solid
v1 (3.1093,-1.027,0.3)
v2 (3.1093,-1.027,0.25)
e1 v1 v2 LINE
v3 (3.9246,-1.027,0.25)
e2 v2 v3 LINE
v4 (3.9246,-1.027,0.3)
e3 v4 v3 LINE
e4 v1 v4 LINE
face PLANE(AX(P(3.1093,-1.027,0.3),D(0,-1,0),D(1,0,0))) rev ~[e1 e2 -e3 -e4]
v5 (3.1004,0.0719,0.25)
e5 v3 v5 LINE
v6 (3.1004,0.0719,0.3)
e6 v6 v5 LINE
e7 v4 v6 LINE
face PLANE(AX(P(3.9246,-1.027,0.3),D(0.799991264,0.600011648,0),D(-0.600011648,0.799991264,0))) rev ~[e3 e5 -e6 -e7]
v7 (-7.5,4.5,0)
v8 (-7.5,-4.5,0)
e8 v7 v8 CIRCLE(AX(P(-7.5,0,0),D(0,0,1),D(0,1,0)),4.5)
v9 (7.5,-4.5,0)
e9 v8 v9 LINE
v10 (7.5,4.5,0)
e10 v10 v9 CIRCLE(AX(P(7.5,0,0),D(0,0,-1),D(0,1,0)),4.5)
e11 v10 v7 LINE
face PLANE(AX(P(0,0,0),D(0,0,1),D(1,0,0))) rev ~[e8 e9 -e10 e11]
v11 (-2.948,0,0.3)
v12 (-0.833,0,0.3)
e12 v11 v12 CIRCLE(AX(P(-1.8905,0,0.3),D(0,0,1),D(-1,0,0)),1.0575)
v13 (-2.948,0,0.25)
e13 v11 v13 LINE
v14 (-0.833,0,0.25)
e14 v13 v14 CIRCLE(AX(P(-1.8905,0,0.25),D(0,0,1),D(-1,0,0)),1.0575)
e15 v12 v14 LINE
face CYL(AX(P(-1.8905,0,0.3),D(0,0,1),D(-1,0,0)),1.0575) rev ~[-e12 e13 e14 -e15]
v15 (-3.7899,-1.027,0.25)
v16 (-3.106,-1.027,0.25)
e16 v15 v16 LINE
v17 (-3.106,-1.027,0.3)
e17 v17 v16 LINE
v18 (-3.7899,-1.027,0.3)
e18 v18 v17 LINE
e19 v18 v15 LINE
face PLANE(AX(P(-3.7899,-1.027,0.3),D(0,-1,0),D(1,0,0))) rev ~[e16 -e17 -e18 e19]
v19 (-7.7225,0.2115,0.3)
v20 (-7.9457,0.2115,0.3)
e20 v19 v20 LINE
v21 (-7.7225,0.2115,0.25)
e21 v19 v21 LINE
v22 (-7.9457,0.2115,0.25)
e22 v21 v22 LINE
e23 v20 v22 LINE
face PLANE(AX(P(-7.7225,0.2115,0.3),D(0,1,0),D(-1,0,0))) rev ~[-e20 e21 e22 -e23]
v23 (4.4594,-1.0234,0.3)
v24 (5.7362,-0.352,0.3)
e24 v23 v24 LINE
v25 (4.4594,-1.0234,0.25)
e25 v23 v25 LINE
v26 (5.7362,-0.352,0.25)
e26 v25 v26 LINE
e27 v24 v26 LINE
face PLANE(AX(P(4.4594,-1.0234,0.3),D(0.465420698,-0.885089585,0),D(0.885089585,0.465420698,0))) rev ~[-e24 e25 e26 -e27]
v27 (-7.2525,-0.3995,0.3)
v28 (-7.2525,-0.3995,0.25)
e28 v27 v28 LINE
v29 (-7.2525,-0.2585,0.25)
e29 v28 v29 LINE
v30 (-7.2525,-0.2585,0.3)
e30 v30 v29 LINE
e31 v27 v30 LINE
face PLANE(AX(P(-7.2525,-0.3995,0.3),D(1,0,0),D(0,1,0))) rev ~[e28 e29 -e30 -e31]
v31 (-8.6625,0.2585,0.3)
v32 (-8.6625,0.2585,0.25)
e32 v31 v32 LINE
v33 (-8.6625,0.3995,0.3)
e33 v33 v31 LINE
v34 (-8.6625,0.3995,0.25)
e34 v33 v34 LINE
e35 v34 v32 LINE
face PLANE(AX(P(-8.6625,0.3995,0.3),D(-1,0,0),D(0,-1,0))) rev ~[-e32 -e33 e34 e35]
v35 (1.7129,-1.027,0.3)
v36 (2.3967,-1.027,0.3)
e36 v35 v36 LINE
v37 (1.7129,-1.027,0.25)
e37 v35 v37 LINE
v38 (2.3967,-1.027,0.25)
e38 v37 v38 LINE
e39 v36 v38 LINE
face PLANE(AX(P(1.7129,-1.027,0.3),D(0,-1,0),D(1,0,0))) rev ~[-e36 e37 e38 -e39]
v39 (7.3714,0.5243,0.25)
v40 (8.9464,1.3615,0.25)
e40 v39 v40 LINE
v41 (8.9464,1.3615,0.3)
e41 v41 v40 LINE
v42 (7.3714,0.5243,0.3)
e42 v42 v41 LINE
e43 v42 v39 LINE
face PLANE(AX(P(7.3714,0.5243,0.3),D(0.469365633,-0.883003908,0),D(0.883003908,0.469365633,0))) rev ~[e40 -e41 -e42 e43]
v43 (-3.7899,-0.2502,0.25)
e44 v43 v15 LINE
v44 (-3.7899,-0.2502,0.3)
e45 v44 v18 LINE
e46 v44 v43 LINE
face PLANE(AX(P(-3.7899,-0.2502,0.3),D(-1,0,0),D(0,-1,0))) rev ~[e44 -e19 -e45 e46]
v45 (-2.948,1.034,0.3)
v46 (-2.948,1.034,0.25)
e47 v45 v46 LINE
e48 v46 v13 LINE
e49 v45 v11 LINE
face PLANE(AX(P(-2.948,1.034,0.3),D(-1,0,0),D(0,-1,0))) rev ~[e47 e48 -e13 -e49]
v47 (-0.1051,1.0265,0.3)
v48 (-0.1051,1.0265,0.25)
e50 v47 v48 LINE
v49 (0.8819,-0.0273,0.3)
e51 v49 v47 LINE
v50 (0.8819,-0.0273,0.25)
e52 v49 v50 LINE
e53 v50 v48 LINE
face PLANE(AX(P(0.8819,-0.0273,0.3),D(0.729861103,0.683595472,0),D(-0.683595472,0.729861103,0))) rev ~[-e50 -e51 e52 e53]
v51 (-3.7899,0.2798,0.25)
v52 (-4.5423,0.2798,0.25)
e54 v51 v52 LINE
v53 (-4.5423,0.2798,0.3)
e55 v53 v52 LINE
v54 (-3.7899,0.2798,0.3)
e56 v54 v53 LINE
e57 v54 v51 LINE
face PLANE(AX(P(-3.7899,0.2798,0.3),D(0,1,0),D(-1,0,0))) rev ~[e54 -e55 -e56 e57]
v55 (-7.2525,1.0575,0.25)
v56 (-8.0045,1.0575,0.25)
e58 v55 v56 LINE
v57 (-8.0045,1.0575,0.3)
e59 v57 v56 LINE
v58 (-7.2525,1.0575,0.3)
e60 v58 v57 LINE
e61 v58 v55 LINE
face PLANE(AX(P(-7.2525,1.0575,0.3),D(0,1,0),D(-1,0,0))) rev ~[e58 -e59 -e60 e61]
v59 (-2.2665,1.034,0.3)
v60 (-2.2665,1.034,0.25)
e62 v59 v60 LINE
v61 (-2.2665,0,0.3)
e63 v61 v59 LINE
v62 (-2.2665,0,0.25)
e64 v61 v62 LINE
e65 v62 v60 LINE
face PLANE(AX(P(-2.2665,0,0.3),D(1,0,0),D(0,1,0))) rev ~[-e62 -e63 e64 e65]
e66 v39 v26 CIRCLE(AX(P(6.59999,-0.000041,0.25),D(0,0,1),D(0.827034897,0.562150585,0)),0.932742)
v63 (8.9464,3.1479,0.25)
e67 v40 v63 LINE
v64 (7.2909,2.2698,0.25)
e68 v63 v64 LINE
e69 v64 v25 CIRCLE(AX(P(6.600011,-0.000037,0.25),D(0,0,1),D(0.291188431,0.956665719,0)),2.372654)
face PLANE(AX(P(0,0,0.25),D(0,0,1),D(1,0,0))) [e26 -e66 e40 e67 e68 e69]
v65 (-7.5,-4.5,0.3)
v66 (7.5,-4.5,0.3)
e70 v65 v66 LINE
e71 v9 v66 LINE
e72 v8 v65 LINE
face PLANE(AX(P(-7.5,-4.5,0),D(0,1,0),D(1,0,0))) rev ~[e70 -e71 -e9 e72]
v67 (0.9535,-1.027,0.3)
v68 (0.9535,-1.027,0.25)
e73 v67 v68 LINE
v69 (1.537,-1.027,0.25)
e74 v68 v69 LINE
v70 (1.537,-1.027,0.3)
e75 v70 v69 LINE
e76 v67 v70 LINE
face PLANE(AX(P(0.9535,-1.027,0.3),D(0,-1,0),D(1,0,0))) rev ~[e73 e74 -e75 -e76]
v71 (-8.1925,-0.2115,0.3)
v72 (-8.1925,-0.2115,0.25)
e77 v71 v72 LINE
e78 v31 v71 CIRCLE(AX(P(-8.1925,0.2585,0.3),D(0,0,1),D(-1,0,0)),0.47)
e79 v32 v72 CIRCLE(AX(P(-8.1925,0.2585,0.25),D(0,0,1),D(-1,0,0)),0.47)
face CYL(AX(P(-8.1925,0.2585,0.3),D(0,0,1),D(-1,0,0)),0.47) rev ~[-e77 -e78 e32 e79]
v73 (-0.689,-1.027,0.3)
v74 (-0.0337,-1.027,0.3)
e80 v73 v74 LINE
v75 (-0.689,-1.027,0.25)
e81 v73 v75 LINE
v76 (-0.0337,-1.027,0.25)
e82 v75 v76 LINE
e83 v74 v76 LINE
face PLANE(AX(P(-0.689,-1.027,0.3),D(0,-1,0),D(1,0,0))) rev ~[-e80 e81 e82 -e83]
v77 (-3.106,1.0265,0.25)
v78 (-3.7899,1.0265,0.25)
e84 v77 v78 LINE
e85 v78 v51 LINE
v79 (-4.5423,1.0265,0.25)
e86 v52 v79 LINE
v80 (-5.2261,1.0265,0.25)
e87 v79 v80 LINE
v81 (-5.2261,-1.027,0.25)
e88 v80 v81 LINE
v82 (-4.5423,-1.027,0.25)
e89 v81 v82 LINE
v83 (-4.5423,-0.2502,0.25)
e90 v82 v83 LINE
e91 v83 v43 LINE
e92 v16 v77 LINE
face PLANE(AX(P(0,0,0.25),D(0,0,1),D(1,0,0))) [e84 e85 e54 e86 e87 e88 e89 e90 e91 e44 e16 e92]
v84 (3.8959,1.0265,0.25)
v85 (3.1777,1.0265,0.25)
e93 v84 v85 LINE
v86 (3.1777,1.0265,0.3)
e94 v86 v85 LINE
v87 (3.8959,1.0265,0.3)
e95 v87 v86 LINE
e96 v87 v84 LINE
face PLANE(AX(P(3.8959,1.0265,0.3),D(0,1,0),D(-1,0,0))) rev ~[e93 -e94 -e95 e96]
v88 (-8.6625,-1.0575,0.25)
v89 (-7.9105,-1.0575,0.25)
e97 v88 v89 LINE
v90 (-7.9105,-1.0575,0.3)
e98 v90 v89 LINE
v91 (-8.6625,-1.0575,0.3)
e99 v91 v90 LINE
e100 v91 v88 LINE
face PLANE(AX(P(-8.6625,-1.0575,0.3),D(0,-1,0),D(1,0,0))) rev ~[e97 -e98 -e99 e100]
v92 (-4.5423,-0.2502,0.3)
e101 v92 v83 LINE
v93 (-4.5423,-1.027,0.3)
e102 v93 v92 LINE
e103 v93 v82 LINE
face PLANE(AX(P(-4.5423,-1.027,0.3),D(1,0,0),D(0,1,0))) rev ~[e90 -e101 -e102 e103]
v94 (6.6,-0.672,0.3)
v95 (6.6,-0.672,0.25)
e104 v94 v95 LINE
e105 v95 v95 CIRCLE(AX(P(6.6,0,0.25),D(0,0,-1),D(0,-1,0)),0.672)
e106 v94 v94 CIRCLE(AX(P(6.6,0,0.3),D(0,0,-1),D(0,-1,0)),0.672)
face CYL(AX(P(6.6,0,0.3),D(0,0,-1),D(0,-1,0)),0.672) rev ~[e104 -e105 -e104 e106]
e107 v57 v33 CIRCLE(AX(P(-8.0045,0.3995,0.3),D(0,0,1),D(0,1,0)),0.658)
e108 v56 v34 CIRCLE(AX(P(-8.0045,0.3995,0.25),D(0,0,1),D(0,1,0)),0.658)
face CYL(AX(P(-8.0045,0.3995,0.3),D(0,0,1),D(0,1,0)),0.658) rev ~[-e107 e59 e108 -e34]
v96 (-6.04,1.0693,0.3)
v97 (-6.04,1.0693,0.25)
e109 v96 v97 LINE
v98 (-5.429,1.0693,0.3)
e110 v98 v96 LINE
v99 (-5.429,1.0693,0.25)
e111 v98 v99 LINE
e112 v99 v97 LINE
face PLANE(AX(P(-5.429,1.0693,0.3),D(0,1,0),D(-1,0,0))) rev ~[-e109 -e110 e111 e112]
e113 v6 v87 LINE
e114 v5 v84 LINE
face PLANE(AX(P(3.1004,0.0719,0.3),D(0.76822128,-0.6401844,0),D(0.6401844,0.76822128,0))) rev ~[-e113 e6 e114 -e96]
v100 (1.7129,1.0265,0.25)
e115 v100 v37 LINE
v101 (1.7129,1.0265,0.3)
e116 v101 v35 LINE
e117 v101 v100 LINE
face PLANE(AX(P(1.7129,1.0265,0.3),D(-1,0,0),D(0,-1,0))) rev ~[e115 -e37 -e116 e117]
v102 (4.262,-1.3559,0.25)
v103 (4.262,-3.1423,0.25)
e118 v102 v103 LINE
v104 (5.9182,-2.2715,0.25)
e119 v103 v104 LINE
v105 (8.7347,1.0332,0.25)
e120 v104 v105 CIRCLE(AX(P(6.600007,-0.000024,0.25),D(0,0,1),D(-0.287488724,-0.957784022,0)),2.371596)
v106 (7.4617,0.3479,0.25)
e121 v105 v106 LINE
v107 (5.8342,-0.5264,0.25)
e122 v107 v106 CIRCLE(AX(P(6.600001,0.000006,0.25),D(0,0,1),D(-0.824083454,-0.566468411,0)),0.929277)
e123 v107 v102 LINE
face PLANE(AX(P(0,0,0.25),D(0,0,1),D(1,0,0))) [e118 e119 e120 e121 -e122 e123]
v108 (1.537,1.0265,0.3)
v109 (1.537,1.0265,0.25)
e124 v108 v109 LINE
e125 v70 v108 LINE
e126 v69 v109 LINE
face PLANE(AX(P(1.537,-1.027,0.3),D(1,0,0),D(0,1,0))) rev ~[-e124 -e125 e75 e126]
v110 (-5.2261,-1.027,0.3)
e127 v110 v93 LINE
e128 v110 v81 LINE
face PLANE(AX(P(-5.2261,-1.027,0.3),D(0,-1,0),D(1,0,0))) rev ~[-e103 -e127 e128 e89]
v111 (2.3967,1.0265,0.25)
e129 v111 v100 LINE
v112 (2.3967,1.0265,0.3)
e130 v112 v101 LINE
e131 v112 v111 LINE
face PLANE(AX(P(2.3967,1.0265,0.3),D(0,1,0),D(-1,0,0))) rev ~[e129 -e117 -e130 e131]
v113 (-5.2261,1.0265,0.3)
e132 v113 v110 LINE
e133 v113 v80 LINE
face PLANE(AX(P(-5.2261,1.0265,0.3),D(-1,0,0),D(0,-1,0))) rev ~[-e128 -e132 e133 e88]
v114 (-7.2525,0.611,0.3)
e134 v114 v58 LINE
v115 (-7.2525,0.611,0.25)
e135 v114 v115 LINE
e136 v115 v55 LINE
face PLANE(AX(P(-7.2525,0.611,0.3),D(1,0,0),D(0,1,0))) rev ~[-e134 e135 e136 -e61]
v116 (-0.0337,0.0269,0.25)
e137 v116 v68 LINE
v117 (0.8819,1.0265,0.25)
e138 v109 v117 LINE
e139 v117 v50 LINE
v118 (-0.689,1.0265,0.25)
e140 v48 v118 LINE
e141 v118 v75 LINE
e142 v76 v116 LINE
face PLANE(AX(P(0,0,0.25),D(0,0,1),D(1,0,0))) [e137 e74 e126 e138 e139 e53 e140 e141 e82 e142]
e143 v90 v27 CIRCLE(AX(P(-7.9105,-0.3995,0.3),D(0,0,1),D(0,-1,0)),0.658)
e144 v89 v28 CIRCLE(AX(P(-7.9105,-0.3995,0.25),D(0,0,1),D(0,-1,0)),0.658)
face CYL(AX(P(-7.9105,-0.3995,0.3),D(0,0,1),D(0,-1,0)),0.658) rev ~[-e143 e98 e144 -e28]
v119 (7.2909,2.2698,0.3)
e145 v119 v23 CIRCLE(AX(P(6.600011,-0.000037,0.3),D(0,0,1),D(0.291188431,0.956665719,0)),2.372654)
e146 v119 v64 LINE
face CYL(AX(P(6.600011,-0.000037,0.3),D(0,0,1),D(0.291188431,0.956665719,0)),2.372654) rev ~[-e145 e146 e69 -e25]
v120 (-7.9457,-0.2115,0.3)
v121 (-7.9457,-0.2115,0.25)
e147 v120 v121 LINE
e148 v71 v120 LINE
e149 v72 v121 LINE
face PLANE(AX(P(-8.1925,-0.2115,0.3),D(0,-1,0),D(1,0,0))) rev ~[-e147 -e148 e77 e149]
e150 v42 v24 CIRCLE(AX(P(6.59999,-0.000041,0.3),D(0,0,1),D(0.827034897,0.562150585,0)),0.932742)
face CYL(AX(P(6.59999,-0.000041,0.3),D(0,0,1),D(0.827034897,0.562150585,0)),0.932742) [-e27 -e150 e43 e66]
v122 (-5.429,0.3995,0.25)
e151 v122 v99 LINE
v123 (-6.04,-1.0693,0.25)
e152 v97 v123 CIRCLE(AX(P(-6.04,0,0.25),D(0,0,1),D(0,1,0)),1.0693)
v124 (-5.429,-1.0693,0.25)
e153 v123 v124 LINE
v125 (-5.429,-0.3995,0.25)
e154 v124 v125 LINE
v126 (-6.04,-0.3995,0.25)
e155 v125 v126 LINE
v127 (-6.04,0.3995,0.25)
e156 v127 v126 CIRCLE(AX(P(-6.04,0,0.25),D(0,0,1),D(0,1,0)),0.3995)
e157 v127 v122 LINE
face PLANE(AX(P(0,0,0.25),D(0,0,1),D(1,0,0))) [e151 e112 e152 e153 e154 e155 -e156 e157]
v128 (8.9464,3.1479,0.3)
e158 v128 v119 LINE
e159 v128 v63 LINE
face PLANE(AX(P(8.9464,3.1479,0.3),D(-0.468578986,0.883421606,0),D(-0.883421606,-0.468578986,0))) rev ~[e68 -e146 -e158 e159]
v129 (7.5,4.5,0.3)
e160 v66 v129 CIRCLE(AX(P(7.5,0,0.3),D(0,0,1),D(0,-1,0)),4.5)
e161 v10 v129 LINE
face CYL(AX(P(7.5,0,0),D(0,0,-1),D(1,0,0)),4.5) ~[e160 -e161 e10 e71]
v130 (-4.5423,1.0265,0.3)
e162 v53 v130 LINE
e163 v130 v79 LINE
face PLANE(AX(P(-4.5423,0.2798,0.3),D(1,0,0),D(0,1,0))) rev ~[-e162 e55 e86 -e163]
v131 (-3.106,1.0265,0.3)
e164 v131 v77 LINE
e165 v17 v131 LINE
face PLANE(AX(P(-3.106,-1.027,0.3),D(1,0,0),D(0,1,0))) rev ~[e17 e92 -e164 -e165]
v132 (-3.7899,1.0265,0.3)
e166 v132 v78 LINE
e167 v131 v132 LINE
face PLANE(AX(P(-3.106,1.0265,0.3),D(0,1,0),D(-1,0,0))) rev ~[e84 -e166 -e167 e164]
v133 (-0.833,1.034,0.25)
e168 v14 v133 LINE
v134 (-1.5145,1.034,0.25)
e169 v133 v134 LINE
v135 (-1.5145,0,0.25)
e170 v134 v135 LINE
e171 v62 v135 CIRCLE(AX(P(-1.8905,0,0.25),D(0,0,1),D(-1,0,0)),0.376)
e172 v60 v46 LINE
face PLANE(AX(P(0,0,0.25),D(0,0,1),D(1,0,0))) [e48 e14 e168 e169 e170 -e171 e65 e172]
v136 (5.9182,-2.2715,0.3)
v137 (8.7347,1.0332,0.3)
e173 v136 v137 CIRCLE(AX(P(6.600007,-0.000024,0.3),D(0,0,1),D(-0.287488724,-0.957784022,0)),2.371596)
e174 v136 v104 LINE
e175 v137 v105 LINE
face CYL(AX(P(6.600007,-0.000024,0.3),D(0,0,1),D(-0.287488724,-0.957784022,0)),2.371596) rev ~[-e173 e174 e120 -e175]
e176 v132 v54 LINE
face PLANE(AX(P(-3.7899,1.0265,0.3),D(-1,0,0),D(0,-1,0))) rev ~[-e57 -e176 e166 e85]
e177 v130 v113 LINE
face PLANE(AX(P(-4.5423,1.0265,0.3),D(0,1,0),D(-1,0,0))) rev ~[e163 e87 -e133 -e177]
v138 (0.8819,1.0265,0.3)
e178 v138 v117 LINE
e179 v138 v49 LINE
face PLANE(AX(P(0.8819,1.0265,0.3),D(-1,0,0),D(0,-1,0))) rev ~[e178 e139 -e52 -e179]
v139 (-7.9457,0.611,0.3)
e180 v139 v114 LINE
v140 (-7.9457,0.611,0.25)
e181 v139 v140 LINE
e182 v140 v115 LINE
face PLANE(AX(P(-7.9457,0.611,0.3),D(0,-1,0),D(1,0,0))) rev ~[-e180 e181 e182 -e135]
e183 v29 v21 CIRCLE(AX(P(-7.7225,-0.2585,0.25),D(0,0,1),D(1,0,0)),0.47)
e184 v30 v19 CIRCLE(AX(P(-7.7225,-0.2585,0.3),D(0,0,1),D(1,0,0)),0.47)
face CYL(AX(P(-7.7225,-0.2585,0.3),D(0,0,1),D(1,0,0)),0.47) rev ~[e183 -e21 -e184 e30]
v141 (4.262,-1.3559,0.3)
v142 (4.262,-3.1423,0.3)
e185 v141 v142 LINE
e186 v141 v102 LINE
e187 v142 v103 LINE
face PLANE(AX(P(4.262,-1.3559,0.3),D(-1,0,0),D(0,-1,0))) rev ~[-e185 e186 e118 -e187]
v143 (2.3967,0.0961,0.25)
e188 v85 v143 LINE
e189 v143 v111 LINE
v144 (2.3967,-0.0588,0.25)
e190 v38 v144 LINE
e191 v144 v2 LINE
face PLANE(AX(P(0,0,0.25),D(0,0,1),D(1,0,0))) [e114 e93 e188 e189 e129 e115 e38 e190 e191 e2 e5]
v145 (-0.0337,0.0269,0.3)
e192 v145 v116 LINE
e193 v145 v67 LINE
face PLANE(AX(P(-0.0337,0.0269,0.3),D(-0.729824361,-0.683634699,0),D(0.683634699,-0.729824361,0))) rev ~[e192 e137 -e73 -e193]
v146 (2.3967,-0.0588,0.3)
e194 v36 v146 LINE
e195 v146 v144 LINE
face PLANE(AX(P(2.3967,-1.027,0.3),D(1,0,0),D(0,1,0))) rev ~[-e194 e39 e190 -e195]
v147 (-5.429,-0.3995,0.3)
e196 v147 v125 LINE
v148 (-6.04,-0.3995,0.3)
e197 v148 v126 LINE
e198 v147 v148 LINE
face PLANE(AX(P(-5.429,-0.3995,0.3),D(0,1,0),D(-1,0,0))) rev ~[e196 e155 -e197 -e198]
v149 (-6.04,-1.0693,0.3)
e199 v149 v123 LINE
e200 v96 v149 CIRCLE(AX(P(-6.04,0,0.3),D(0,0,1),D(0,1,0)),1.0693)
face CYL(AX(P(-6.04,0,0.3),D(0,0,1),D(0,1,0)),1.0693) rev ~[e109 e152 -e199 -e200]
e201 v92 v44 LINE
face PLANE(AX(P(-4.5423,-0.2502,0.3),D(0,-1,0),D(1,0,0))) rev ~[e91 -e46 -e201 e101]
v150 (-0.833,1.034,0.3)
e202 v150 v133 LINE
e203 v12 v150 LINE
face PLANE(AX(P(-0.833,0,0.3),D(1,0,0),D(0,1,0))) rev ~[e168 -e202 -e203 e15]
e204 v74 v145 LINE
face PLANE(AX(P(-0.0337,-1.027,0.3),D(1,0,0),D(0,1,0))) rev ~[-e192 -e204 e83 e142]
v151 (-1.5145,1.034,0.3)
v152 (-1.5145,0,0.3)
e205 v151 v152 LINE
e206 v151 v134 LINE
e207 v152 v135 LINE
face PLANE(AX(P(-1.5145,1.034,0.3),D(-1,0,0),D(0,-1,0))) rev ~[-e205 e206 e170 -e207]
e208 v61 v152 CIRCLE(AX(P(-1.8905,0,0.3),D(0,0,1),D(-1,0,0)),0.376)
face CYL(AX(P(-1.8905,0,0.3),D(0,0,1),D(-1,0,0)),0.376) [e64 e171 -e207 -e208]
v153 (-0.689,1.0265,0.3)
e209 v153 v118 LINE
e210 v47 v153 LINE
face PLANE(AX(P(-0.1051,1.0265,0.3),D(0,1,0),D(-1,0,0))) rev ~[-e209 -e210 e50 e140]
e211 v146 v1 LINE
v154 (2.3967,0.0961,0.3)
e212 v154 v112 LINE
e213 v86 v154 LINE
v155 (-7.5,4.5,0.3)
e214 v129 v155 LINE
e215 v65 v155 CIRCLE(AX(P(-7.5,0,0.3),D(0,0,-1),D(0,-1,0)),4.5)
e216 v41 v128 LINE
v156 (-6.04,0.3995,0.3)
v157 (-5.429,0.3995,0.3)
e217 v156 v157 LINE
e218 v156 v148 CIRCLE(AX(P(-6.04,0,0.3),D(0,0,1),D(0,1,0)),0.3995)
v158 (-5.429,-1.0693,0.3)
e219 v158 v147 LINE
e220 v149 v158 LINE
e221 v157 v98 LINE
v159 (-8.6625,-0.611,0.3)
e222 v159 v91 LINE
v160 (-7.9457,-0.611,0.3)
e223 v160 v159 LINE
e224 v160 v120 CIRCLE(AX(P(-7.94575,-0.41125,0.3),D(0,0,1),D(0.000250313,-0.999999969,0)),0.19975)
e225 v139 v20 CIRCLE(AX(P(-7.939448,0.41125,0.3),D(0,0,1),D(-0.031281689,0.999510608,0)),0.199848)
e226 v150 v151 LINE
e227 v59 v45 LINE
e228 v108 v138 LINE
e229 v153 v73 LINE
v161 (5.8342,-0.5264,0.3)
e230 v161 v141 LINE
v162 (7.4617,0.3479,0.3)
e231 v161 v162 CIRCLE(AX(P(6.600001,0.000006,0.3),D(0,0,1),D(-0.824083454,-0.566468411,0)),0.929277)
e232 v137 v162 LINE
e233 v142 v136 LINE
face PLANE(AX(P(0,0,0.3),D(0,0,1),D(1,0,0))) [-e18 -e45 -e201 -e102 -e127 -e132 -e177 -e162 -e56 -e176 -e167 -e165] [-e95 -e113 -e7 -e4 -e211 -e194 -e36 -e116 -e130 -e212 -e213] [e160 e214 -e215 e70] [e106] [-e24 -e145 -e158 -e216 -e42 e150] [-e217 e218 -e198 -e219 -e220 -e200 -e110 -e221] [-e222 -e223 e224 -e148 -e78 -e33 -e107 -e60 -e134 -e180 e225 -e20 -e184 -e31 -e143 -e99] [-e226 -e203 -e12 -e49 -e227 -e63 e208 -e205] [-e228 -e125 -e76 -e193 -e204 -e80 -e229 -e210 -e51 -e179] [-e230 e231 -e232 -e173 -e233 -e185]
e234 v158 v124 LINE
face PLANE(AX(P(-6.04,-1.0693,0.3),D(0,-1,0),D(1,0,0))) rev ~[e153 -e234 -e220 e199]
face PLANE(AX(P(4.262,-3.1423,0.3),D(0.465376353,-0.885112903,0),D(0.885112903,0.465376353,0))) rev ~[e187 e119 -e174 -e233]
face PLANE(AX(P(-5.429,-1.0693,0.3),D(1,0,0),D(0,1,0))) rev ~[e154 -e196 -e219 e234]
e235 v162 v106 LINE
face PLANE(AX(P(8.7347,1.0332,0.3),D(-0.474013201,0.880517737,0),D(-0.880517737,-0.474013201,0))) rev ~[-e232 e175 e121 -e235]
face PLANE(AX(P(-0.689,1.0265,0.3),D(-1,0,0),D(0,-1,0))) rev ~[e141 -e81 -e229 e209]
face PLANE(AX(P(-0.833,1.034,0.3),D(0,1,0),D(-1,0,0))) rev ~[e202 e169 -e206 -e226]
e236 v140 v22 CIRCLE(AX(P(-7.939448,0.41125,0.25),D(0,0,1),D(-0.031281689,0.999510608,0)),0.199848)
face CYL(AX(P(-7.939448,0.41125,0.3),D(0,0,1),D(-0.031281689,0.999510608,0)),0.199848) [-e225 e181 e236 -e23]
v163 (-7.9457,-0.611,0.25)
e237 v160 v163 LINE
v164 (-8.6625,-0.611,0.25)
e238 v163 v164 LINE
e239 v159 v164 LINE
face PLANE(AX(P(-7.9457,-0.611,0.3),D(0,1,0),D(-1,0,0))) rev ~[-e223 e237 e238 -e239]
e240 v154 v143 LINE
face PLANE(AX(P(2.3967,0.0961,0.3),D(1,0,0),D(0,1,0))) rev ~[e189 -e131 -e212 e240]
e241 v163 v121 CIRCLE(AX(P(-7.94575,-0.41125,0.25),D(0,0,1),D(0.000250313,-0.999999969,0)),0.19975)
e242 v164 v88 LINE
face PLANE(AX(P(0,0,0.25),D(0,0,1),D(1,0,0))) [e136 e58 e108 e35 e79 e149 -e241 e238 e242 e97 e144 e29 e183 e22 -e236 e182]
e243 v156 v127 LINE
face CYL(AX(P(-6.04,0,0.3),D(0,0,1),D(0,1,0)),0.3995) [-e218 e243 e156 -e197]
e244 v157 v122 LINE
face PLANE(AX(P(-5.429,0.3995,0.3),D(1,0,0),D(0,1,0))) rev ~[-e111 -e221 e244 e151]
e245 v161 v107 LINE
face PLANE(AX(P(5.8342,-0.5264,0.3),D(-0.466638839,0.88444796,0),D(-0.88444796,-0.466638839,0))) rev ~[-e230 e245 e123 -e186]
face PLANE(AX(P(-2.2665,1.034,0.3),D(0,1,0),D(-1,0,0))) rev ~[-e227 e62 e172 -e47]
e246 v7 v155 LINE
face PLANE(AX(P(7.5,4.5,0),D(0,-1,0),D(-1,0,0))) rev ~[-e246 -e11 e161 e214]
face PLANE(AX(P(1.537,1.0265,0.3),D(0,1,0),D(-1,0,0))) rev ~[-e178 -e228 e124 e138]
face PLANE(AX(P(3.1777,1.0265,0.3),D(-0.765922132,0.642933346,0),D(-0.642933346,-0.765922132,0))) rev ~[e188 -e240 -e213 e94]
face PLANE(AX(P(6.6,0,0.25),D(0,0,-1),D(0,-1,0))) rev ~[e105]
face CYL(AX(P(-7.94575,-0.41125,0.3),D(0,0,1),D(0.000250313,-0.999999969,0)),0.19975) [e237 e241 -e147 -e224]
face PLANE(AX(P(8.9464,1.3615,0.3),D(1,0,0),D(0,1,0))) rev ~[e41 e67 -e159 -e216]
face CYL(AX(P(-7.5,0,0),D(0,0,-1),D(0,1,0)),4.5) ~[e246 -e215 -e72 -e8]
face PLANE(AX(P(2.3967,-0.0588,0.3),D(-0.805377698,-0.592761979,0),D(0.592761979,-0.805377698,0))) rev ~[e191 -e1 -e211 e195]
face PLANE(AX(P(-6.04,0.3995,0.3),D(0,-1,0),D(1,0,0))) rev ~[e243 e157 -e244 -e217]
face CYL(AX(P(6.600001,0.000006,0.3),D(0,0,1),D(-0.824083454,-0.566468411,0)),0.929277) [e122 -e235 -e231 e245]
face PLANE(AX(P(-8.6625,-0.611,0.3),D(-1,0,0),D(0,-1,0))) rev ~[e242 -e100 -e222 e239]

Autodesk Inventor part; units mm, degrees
sketch "Sketch_1" plane through (0, 0, 0) normal (0, 0, 1) x (1, 0, 0)
  arc A0 (-12, 0) -> (-7.5, -4.5) centre (-7.5, 0) ccw
  line L0 (-7.5, -4.5) -> (7.5, -4.5)
  arc A1 (7.5, -4.5) -> (12, 0) centre (7.5, 0) ccw
  arc A2 (12, 0) -> (7.5, 4.5) centre (7.5, 0) ccw
  line L1 (7.5, 4.5) -> (-7.5, 4.5)
  arc A3 (-7.5, 4.5) -> (-12, 0) centre (-7.5, 0) ccw
extrude "Extrusion1" add sketch "Sketch_1" along normal blind 0.3
sketch "Sketch_13" plane through (0, 0, 0.3) normal (0, 0, 1) x (1, 0, 0)
  line L0 (-5.2261, 1.0265) -> (-5.2261, -1.027)
  line L1 (-5.2261, -1.027) -> (-4.5423, -1.027)
  line L2 (-4.5423, -1.027) -> (-4.5423, -0.2502)
  line L3 (-4.5423, -0.2502) -> (-3.7899, -0.2502)
  line L4 (-3.7899, -0.2502) -> (-3.7899, -1.027)
  line L5 (-3.7899, -1.027) -> (-3.106, -1.027)
  line L6 (-3.106, -1.027) -> (-3.106, 1.0265)
  line L7 (-3.106, 1.0265) -> (-3.7899, 1.0265)
  line L8 (-3.7899, 1.0265) -> (-3.7899, 0.2798)
  line L9 (-3.7899, 0.2798) -> (-4.5423, 0.2798)
  line L10 (-4.5423, 0.2798) -> (-4.5423, 1.0265)
  line L11 (-4.5423, 1.0265) -> (-5.2261, 1.0265)
extrude "Extrusion2" cut sketch "Sketch_13" against normal blind 0.05
sketch "Sketch_15" plane through (0, 0, 0.3) normal (0, 0, 1) x (1, 0, 0)
  line L0 (-0.689, 1.0265) -> (-0.689, -1.027)
  line L1 (-0.689, -1.027) -> (-0.0337, -1.027)
  line L2 (-0.0337, -1.027) -> (-0.0337, 0.0269)
  line L3 (-0.0337, 0.0269) -> (0.9535, -1.027)
  line L4 (0.9535, -1.027) -> (1.537, -1.027)
  line L5 (1.537, -1.027) -> (1.537, 1.0265)
  line L6 (1.537, 1.0265) -> (0.8819, 1.0265)
  line L7 (0.8819, 1.0265) -> (0.8819, -0.0273)
  line L8 (0.8819, -0.0273) -> (-0.1051, 1.0265)
  line L9 (-0.1051, 1.0265) -> (-0.689, 1.0265)
extrude "Extrusion3" cut sketch "Sketch_15" against normal blind 0.05
sketch "Sketch_16" plane through (0, 0, 0.3) normal (0, 0, 1) x (1, 0, 0)
  line L0 (1.7129, 1.0265) -> (1.7129, -1.027)
  line L1 (1.7129, -1.027) -> (2.3967, -1.027)
  line L2 (2.3967, -1.027) -> (2.3967, -0.0588)
  line L3 (2.3967, -0.0588) -> (3.1093, -1.027)
  line L4 (3.1093, -1.027) -> (3.9246, -1.027)
  line L5 (3.9246, -1.027) -> (3.1004, 0.0719)
  line L6 (3.1004, 0.0719) -> (3.8959, 1.0265)
  line L7 (3.8959, 1.0265) -> (3.1777, 1.0265)
  line L8 (3.1777, 1.0265) -> (2.3967, 0.0961)
  line L9 (2.3967, 0.0961) -> (2.3967, 1.0265)
  line L10 (2.3967, 1.0265) -> (1.7129, 1.0265)
extrude "Extrusion4" cut sketch "Sketch_16" against normal blind 0.05
sketch "Sketch_5" plane through (0, 0, 0.3) normal (0, 0, 1) x (1, 0, 0)
  arc A0 (-8.6625, 0.2585) -> (-8.1925, -0.2115) centre (-8.1925, 0.2585) ccw
  line L0 (-8.1925, -0.2115) -> (-7.9457, -0.2115)
  arc A1 (-7.9457, -0.611) -> (-7.9457, -0.2115) centre (-7.9457, -0.4113) ccw
  line L1 (-7.9457, -0.611) -> (-8.6625, -0.611)
  line L2 (-8.6625, -0.611) -> (-8.6625, -1.0575)
  line L3 (-8.6625, -1.0575) -> (-7.9105, -1.0575)
  arc A2 (-7.9105, -1.0575) -> (-7.2525, -0.3995) centre (-7.9105, -0.3995) ccw
  line L4 (-7.2525, -0.3995) -> (-7.2525, -0.2585)
  arc A3 (-7.2525, -0.2585) -> (-7.7225, 0.2115) centre (-7.7225, -0.2585) ccw
  line L5 (-7.7225, 0.2115) -> (-7.9457, 0.2115)
  arc A4 (-7.9457, 0.611) -> (-7.9457, 0.2115) centre (-7.9395, 0.4113) ccw
  line L6 (-7.9457, 0.611) -> (-7.2525, 0.611)
  line L7 (-7.2525, 0.611) -> (-7.2525, 1.0575)
  line L8 (-7.2525, 1.0575) -> (-8.0045, 1.0575)
  arc A5 (-8.0045, 1.0575) -> (-8.6625, 0.3995) centre (-8.0045, 0.3995) ccw
  line L9 (-8.6625, 0.3995) -> (-8.6625, 0.2585)
extrude "Extrusion5" cut sketch "Sketch_5" against normal blind 0.05
sketch "Sketch_6" plane through (0, 0, 0.3) normal (0, 0, 1) x (1, 0, 0)
  arc A0 (-6.04, 1.0693) -> (-6.04, -1.0693) centre (-6.04, 0) ccw
  line L0 (-6.04, -1.0693) -> (-5.429, -1.0693)
  line L1 (-5.429, -1.0693) -> (-5.429, -0.3995)
  line L2 (-5.429, -0.3995) -> (-6.04, -0.3995)
  arc A1 (-6.04, 0.3995) -> (-6.04, -0.3995) centre (-6.04, 0) ccw
  line L3 (-6.04, 0.3995) -> (-5.429, 0.3995)
  line L4 (-5.429, 0.3995) -> (-5.429, 1.0693)
  line L5 (-5.429, 1.0693) -> (-6.04, 1.0693)
extrude "Extrusion6" cut sketch "Sketch_6" against normal blind 0.05
sketch "Sketch_7" plane through (0, 0, 0.3) normal (0, 0, 1) x (1, 0, 0)
  line L0 (-2.948, 1.034) -> (-2.948, 0)
  arc A0 (-2.948, 0) -> (-0.833, 0) centre (-1.8905, 0) ccw
  line L1 (-0.833, 0) -> (-0.833, 1.034)
  line L2 (-0.833, 1.034) -> (-1.5145, 1.034)
  line L3 (-1.5145, 1.034) -> (-1.5145, 0)
  arc A1 (-2.2665, 0) -> (-1.5145, 0) centre (-1.8905, 0) ccw
  line L4 (-2.2665, 0) -> (-2.2665, 1.034)
  line L5 (-2.2665, 1.034) -> (-2.948, 1.034)
extrude "Extrusion7" cut sketch "Sketch_7" against normal blind 0.05
sketch "Sketch8" plane through (0, 0, 0.3) normal (0, 0, 1) x (1, 0, 0)
  point P0 (6.6, 0)
hole "Hole1" at (6.6, 0, 0.3) direction (0, 0, -1) diameter 1.344 depth 0.05
sketch "Sketch_3" plane through (0, 0, 0.3) normal (0, 0, 1) x (1, 0, 0)
  arc A0 (7.2909, 2.2698) -> (4.4594, -1.0234) centre (6.6, 0) ccw
  line L0 (4.4594, -1.0234) -> (5.7362, -0.352)
  arc A1 (7.3714, 0.5243) -> (5.7362, -0.352) centre (6.6, 0) ccw
  line L1 (7.3714, 0.5243) -> (8.9464, 1.3615)
  line L2 (8.9464, 1.3615) -> (8.9464, 3.1479)
  line L3 (8.9464, 3.1479) -> (7.2909, 2.2698)
extrude "Extrusion8" cut sketch "Sketch_3" against normal blind 0.05
sketch "Sketch_4" plane through (0, 0, 0.3) normal (0, 0, 1) x (1, 0, 0)
  line L0 (4.262, -1.3559) -> (4.262, -3.1423)
  line L1 (4.262, -3.1423) -> (5.9182, -2.2715)
  arc A0 (5.9182, -2.2715) -> (8.7347, 1.0332) centre (6.6, 0) ccw
  line L2 (8.7347, 1.0332) -> (7.4617, 0.3479)
  arc A1 (5.8342, -0.5264) -> (7.4617, 0.3479) centre (6.6, 0) ccw
  line L3 (5.8342, -0.5264) -> (4.262, -1.3559)
extrude "Extrusion9" cut sketch "Sketch_4" against normal blind 0.05
ref_plane "aluschild_XY" through (0, 0, 0) normal (0, 0, 1) x (1, 0, 0)
ref_plane "aluschild_YZ" through (0, 0, 0) normal (1, 0, 0) x (0, 1, 0)
ref_plane "aluschild_ZX" through (0, 0, 0) normal (0, 1, 0) x (0, 0, 1)
properties part number "SCHUNK-9905502 Typenschild 9x24x0.3"
